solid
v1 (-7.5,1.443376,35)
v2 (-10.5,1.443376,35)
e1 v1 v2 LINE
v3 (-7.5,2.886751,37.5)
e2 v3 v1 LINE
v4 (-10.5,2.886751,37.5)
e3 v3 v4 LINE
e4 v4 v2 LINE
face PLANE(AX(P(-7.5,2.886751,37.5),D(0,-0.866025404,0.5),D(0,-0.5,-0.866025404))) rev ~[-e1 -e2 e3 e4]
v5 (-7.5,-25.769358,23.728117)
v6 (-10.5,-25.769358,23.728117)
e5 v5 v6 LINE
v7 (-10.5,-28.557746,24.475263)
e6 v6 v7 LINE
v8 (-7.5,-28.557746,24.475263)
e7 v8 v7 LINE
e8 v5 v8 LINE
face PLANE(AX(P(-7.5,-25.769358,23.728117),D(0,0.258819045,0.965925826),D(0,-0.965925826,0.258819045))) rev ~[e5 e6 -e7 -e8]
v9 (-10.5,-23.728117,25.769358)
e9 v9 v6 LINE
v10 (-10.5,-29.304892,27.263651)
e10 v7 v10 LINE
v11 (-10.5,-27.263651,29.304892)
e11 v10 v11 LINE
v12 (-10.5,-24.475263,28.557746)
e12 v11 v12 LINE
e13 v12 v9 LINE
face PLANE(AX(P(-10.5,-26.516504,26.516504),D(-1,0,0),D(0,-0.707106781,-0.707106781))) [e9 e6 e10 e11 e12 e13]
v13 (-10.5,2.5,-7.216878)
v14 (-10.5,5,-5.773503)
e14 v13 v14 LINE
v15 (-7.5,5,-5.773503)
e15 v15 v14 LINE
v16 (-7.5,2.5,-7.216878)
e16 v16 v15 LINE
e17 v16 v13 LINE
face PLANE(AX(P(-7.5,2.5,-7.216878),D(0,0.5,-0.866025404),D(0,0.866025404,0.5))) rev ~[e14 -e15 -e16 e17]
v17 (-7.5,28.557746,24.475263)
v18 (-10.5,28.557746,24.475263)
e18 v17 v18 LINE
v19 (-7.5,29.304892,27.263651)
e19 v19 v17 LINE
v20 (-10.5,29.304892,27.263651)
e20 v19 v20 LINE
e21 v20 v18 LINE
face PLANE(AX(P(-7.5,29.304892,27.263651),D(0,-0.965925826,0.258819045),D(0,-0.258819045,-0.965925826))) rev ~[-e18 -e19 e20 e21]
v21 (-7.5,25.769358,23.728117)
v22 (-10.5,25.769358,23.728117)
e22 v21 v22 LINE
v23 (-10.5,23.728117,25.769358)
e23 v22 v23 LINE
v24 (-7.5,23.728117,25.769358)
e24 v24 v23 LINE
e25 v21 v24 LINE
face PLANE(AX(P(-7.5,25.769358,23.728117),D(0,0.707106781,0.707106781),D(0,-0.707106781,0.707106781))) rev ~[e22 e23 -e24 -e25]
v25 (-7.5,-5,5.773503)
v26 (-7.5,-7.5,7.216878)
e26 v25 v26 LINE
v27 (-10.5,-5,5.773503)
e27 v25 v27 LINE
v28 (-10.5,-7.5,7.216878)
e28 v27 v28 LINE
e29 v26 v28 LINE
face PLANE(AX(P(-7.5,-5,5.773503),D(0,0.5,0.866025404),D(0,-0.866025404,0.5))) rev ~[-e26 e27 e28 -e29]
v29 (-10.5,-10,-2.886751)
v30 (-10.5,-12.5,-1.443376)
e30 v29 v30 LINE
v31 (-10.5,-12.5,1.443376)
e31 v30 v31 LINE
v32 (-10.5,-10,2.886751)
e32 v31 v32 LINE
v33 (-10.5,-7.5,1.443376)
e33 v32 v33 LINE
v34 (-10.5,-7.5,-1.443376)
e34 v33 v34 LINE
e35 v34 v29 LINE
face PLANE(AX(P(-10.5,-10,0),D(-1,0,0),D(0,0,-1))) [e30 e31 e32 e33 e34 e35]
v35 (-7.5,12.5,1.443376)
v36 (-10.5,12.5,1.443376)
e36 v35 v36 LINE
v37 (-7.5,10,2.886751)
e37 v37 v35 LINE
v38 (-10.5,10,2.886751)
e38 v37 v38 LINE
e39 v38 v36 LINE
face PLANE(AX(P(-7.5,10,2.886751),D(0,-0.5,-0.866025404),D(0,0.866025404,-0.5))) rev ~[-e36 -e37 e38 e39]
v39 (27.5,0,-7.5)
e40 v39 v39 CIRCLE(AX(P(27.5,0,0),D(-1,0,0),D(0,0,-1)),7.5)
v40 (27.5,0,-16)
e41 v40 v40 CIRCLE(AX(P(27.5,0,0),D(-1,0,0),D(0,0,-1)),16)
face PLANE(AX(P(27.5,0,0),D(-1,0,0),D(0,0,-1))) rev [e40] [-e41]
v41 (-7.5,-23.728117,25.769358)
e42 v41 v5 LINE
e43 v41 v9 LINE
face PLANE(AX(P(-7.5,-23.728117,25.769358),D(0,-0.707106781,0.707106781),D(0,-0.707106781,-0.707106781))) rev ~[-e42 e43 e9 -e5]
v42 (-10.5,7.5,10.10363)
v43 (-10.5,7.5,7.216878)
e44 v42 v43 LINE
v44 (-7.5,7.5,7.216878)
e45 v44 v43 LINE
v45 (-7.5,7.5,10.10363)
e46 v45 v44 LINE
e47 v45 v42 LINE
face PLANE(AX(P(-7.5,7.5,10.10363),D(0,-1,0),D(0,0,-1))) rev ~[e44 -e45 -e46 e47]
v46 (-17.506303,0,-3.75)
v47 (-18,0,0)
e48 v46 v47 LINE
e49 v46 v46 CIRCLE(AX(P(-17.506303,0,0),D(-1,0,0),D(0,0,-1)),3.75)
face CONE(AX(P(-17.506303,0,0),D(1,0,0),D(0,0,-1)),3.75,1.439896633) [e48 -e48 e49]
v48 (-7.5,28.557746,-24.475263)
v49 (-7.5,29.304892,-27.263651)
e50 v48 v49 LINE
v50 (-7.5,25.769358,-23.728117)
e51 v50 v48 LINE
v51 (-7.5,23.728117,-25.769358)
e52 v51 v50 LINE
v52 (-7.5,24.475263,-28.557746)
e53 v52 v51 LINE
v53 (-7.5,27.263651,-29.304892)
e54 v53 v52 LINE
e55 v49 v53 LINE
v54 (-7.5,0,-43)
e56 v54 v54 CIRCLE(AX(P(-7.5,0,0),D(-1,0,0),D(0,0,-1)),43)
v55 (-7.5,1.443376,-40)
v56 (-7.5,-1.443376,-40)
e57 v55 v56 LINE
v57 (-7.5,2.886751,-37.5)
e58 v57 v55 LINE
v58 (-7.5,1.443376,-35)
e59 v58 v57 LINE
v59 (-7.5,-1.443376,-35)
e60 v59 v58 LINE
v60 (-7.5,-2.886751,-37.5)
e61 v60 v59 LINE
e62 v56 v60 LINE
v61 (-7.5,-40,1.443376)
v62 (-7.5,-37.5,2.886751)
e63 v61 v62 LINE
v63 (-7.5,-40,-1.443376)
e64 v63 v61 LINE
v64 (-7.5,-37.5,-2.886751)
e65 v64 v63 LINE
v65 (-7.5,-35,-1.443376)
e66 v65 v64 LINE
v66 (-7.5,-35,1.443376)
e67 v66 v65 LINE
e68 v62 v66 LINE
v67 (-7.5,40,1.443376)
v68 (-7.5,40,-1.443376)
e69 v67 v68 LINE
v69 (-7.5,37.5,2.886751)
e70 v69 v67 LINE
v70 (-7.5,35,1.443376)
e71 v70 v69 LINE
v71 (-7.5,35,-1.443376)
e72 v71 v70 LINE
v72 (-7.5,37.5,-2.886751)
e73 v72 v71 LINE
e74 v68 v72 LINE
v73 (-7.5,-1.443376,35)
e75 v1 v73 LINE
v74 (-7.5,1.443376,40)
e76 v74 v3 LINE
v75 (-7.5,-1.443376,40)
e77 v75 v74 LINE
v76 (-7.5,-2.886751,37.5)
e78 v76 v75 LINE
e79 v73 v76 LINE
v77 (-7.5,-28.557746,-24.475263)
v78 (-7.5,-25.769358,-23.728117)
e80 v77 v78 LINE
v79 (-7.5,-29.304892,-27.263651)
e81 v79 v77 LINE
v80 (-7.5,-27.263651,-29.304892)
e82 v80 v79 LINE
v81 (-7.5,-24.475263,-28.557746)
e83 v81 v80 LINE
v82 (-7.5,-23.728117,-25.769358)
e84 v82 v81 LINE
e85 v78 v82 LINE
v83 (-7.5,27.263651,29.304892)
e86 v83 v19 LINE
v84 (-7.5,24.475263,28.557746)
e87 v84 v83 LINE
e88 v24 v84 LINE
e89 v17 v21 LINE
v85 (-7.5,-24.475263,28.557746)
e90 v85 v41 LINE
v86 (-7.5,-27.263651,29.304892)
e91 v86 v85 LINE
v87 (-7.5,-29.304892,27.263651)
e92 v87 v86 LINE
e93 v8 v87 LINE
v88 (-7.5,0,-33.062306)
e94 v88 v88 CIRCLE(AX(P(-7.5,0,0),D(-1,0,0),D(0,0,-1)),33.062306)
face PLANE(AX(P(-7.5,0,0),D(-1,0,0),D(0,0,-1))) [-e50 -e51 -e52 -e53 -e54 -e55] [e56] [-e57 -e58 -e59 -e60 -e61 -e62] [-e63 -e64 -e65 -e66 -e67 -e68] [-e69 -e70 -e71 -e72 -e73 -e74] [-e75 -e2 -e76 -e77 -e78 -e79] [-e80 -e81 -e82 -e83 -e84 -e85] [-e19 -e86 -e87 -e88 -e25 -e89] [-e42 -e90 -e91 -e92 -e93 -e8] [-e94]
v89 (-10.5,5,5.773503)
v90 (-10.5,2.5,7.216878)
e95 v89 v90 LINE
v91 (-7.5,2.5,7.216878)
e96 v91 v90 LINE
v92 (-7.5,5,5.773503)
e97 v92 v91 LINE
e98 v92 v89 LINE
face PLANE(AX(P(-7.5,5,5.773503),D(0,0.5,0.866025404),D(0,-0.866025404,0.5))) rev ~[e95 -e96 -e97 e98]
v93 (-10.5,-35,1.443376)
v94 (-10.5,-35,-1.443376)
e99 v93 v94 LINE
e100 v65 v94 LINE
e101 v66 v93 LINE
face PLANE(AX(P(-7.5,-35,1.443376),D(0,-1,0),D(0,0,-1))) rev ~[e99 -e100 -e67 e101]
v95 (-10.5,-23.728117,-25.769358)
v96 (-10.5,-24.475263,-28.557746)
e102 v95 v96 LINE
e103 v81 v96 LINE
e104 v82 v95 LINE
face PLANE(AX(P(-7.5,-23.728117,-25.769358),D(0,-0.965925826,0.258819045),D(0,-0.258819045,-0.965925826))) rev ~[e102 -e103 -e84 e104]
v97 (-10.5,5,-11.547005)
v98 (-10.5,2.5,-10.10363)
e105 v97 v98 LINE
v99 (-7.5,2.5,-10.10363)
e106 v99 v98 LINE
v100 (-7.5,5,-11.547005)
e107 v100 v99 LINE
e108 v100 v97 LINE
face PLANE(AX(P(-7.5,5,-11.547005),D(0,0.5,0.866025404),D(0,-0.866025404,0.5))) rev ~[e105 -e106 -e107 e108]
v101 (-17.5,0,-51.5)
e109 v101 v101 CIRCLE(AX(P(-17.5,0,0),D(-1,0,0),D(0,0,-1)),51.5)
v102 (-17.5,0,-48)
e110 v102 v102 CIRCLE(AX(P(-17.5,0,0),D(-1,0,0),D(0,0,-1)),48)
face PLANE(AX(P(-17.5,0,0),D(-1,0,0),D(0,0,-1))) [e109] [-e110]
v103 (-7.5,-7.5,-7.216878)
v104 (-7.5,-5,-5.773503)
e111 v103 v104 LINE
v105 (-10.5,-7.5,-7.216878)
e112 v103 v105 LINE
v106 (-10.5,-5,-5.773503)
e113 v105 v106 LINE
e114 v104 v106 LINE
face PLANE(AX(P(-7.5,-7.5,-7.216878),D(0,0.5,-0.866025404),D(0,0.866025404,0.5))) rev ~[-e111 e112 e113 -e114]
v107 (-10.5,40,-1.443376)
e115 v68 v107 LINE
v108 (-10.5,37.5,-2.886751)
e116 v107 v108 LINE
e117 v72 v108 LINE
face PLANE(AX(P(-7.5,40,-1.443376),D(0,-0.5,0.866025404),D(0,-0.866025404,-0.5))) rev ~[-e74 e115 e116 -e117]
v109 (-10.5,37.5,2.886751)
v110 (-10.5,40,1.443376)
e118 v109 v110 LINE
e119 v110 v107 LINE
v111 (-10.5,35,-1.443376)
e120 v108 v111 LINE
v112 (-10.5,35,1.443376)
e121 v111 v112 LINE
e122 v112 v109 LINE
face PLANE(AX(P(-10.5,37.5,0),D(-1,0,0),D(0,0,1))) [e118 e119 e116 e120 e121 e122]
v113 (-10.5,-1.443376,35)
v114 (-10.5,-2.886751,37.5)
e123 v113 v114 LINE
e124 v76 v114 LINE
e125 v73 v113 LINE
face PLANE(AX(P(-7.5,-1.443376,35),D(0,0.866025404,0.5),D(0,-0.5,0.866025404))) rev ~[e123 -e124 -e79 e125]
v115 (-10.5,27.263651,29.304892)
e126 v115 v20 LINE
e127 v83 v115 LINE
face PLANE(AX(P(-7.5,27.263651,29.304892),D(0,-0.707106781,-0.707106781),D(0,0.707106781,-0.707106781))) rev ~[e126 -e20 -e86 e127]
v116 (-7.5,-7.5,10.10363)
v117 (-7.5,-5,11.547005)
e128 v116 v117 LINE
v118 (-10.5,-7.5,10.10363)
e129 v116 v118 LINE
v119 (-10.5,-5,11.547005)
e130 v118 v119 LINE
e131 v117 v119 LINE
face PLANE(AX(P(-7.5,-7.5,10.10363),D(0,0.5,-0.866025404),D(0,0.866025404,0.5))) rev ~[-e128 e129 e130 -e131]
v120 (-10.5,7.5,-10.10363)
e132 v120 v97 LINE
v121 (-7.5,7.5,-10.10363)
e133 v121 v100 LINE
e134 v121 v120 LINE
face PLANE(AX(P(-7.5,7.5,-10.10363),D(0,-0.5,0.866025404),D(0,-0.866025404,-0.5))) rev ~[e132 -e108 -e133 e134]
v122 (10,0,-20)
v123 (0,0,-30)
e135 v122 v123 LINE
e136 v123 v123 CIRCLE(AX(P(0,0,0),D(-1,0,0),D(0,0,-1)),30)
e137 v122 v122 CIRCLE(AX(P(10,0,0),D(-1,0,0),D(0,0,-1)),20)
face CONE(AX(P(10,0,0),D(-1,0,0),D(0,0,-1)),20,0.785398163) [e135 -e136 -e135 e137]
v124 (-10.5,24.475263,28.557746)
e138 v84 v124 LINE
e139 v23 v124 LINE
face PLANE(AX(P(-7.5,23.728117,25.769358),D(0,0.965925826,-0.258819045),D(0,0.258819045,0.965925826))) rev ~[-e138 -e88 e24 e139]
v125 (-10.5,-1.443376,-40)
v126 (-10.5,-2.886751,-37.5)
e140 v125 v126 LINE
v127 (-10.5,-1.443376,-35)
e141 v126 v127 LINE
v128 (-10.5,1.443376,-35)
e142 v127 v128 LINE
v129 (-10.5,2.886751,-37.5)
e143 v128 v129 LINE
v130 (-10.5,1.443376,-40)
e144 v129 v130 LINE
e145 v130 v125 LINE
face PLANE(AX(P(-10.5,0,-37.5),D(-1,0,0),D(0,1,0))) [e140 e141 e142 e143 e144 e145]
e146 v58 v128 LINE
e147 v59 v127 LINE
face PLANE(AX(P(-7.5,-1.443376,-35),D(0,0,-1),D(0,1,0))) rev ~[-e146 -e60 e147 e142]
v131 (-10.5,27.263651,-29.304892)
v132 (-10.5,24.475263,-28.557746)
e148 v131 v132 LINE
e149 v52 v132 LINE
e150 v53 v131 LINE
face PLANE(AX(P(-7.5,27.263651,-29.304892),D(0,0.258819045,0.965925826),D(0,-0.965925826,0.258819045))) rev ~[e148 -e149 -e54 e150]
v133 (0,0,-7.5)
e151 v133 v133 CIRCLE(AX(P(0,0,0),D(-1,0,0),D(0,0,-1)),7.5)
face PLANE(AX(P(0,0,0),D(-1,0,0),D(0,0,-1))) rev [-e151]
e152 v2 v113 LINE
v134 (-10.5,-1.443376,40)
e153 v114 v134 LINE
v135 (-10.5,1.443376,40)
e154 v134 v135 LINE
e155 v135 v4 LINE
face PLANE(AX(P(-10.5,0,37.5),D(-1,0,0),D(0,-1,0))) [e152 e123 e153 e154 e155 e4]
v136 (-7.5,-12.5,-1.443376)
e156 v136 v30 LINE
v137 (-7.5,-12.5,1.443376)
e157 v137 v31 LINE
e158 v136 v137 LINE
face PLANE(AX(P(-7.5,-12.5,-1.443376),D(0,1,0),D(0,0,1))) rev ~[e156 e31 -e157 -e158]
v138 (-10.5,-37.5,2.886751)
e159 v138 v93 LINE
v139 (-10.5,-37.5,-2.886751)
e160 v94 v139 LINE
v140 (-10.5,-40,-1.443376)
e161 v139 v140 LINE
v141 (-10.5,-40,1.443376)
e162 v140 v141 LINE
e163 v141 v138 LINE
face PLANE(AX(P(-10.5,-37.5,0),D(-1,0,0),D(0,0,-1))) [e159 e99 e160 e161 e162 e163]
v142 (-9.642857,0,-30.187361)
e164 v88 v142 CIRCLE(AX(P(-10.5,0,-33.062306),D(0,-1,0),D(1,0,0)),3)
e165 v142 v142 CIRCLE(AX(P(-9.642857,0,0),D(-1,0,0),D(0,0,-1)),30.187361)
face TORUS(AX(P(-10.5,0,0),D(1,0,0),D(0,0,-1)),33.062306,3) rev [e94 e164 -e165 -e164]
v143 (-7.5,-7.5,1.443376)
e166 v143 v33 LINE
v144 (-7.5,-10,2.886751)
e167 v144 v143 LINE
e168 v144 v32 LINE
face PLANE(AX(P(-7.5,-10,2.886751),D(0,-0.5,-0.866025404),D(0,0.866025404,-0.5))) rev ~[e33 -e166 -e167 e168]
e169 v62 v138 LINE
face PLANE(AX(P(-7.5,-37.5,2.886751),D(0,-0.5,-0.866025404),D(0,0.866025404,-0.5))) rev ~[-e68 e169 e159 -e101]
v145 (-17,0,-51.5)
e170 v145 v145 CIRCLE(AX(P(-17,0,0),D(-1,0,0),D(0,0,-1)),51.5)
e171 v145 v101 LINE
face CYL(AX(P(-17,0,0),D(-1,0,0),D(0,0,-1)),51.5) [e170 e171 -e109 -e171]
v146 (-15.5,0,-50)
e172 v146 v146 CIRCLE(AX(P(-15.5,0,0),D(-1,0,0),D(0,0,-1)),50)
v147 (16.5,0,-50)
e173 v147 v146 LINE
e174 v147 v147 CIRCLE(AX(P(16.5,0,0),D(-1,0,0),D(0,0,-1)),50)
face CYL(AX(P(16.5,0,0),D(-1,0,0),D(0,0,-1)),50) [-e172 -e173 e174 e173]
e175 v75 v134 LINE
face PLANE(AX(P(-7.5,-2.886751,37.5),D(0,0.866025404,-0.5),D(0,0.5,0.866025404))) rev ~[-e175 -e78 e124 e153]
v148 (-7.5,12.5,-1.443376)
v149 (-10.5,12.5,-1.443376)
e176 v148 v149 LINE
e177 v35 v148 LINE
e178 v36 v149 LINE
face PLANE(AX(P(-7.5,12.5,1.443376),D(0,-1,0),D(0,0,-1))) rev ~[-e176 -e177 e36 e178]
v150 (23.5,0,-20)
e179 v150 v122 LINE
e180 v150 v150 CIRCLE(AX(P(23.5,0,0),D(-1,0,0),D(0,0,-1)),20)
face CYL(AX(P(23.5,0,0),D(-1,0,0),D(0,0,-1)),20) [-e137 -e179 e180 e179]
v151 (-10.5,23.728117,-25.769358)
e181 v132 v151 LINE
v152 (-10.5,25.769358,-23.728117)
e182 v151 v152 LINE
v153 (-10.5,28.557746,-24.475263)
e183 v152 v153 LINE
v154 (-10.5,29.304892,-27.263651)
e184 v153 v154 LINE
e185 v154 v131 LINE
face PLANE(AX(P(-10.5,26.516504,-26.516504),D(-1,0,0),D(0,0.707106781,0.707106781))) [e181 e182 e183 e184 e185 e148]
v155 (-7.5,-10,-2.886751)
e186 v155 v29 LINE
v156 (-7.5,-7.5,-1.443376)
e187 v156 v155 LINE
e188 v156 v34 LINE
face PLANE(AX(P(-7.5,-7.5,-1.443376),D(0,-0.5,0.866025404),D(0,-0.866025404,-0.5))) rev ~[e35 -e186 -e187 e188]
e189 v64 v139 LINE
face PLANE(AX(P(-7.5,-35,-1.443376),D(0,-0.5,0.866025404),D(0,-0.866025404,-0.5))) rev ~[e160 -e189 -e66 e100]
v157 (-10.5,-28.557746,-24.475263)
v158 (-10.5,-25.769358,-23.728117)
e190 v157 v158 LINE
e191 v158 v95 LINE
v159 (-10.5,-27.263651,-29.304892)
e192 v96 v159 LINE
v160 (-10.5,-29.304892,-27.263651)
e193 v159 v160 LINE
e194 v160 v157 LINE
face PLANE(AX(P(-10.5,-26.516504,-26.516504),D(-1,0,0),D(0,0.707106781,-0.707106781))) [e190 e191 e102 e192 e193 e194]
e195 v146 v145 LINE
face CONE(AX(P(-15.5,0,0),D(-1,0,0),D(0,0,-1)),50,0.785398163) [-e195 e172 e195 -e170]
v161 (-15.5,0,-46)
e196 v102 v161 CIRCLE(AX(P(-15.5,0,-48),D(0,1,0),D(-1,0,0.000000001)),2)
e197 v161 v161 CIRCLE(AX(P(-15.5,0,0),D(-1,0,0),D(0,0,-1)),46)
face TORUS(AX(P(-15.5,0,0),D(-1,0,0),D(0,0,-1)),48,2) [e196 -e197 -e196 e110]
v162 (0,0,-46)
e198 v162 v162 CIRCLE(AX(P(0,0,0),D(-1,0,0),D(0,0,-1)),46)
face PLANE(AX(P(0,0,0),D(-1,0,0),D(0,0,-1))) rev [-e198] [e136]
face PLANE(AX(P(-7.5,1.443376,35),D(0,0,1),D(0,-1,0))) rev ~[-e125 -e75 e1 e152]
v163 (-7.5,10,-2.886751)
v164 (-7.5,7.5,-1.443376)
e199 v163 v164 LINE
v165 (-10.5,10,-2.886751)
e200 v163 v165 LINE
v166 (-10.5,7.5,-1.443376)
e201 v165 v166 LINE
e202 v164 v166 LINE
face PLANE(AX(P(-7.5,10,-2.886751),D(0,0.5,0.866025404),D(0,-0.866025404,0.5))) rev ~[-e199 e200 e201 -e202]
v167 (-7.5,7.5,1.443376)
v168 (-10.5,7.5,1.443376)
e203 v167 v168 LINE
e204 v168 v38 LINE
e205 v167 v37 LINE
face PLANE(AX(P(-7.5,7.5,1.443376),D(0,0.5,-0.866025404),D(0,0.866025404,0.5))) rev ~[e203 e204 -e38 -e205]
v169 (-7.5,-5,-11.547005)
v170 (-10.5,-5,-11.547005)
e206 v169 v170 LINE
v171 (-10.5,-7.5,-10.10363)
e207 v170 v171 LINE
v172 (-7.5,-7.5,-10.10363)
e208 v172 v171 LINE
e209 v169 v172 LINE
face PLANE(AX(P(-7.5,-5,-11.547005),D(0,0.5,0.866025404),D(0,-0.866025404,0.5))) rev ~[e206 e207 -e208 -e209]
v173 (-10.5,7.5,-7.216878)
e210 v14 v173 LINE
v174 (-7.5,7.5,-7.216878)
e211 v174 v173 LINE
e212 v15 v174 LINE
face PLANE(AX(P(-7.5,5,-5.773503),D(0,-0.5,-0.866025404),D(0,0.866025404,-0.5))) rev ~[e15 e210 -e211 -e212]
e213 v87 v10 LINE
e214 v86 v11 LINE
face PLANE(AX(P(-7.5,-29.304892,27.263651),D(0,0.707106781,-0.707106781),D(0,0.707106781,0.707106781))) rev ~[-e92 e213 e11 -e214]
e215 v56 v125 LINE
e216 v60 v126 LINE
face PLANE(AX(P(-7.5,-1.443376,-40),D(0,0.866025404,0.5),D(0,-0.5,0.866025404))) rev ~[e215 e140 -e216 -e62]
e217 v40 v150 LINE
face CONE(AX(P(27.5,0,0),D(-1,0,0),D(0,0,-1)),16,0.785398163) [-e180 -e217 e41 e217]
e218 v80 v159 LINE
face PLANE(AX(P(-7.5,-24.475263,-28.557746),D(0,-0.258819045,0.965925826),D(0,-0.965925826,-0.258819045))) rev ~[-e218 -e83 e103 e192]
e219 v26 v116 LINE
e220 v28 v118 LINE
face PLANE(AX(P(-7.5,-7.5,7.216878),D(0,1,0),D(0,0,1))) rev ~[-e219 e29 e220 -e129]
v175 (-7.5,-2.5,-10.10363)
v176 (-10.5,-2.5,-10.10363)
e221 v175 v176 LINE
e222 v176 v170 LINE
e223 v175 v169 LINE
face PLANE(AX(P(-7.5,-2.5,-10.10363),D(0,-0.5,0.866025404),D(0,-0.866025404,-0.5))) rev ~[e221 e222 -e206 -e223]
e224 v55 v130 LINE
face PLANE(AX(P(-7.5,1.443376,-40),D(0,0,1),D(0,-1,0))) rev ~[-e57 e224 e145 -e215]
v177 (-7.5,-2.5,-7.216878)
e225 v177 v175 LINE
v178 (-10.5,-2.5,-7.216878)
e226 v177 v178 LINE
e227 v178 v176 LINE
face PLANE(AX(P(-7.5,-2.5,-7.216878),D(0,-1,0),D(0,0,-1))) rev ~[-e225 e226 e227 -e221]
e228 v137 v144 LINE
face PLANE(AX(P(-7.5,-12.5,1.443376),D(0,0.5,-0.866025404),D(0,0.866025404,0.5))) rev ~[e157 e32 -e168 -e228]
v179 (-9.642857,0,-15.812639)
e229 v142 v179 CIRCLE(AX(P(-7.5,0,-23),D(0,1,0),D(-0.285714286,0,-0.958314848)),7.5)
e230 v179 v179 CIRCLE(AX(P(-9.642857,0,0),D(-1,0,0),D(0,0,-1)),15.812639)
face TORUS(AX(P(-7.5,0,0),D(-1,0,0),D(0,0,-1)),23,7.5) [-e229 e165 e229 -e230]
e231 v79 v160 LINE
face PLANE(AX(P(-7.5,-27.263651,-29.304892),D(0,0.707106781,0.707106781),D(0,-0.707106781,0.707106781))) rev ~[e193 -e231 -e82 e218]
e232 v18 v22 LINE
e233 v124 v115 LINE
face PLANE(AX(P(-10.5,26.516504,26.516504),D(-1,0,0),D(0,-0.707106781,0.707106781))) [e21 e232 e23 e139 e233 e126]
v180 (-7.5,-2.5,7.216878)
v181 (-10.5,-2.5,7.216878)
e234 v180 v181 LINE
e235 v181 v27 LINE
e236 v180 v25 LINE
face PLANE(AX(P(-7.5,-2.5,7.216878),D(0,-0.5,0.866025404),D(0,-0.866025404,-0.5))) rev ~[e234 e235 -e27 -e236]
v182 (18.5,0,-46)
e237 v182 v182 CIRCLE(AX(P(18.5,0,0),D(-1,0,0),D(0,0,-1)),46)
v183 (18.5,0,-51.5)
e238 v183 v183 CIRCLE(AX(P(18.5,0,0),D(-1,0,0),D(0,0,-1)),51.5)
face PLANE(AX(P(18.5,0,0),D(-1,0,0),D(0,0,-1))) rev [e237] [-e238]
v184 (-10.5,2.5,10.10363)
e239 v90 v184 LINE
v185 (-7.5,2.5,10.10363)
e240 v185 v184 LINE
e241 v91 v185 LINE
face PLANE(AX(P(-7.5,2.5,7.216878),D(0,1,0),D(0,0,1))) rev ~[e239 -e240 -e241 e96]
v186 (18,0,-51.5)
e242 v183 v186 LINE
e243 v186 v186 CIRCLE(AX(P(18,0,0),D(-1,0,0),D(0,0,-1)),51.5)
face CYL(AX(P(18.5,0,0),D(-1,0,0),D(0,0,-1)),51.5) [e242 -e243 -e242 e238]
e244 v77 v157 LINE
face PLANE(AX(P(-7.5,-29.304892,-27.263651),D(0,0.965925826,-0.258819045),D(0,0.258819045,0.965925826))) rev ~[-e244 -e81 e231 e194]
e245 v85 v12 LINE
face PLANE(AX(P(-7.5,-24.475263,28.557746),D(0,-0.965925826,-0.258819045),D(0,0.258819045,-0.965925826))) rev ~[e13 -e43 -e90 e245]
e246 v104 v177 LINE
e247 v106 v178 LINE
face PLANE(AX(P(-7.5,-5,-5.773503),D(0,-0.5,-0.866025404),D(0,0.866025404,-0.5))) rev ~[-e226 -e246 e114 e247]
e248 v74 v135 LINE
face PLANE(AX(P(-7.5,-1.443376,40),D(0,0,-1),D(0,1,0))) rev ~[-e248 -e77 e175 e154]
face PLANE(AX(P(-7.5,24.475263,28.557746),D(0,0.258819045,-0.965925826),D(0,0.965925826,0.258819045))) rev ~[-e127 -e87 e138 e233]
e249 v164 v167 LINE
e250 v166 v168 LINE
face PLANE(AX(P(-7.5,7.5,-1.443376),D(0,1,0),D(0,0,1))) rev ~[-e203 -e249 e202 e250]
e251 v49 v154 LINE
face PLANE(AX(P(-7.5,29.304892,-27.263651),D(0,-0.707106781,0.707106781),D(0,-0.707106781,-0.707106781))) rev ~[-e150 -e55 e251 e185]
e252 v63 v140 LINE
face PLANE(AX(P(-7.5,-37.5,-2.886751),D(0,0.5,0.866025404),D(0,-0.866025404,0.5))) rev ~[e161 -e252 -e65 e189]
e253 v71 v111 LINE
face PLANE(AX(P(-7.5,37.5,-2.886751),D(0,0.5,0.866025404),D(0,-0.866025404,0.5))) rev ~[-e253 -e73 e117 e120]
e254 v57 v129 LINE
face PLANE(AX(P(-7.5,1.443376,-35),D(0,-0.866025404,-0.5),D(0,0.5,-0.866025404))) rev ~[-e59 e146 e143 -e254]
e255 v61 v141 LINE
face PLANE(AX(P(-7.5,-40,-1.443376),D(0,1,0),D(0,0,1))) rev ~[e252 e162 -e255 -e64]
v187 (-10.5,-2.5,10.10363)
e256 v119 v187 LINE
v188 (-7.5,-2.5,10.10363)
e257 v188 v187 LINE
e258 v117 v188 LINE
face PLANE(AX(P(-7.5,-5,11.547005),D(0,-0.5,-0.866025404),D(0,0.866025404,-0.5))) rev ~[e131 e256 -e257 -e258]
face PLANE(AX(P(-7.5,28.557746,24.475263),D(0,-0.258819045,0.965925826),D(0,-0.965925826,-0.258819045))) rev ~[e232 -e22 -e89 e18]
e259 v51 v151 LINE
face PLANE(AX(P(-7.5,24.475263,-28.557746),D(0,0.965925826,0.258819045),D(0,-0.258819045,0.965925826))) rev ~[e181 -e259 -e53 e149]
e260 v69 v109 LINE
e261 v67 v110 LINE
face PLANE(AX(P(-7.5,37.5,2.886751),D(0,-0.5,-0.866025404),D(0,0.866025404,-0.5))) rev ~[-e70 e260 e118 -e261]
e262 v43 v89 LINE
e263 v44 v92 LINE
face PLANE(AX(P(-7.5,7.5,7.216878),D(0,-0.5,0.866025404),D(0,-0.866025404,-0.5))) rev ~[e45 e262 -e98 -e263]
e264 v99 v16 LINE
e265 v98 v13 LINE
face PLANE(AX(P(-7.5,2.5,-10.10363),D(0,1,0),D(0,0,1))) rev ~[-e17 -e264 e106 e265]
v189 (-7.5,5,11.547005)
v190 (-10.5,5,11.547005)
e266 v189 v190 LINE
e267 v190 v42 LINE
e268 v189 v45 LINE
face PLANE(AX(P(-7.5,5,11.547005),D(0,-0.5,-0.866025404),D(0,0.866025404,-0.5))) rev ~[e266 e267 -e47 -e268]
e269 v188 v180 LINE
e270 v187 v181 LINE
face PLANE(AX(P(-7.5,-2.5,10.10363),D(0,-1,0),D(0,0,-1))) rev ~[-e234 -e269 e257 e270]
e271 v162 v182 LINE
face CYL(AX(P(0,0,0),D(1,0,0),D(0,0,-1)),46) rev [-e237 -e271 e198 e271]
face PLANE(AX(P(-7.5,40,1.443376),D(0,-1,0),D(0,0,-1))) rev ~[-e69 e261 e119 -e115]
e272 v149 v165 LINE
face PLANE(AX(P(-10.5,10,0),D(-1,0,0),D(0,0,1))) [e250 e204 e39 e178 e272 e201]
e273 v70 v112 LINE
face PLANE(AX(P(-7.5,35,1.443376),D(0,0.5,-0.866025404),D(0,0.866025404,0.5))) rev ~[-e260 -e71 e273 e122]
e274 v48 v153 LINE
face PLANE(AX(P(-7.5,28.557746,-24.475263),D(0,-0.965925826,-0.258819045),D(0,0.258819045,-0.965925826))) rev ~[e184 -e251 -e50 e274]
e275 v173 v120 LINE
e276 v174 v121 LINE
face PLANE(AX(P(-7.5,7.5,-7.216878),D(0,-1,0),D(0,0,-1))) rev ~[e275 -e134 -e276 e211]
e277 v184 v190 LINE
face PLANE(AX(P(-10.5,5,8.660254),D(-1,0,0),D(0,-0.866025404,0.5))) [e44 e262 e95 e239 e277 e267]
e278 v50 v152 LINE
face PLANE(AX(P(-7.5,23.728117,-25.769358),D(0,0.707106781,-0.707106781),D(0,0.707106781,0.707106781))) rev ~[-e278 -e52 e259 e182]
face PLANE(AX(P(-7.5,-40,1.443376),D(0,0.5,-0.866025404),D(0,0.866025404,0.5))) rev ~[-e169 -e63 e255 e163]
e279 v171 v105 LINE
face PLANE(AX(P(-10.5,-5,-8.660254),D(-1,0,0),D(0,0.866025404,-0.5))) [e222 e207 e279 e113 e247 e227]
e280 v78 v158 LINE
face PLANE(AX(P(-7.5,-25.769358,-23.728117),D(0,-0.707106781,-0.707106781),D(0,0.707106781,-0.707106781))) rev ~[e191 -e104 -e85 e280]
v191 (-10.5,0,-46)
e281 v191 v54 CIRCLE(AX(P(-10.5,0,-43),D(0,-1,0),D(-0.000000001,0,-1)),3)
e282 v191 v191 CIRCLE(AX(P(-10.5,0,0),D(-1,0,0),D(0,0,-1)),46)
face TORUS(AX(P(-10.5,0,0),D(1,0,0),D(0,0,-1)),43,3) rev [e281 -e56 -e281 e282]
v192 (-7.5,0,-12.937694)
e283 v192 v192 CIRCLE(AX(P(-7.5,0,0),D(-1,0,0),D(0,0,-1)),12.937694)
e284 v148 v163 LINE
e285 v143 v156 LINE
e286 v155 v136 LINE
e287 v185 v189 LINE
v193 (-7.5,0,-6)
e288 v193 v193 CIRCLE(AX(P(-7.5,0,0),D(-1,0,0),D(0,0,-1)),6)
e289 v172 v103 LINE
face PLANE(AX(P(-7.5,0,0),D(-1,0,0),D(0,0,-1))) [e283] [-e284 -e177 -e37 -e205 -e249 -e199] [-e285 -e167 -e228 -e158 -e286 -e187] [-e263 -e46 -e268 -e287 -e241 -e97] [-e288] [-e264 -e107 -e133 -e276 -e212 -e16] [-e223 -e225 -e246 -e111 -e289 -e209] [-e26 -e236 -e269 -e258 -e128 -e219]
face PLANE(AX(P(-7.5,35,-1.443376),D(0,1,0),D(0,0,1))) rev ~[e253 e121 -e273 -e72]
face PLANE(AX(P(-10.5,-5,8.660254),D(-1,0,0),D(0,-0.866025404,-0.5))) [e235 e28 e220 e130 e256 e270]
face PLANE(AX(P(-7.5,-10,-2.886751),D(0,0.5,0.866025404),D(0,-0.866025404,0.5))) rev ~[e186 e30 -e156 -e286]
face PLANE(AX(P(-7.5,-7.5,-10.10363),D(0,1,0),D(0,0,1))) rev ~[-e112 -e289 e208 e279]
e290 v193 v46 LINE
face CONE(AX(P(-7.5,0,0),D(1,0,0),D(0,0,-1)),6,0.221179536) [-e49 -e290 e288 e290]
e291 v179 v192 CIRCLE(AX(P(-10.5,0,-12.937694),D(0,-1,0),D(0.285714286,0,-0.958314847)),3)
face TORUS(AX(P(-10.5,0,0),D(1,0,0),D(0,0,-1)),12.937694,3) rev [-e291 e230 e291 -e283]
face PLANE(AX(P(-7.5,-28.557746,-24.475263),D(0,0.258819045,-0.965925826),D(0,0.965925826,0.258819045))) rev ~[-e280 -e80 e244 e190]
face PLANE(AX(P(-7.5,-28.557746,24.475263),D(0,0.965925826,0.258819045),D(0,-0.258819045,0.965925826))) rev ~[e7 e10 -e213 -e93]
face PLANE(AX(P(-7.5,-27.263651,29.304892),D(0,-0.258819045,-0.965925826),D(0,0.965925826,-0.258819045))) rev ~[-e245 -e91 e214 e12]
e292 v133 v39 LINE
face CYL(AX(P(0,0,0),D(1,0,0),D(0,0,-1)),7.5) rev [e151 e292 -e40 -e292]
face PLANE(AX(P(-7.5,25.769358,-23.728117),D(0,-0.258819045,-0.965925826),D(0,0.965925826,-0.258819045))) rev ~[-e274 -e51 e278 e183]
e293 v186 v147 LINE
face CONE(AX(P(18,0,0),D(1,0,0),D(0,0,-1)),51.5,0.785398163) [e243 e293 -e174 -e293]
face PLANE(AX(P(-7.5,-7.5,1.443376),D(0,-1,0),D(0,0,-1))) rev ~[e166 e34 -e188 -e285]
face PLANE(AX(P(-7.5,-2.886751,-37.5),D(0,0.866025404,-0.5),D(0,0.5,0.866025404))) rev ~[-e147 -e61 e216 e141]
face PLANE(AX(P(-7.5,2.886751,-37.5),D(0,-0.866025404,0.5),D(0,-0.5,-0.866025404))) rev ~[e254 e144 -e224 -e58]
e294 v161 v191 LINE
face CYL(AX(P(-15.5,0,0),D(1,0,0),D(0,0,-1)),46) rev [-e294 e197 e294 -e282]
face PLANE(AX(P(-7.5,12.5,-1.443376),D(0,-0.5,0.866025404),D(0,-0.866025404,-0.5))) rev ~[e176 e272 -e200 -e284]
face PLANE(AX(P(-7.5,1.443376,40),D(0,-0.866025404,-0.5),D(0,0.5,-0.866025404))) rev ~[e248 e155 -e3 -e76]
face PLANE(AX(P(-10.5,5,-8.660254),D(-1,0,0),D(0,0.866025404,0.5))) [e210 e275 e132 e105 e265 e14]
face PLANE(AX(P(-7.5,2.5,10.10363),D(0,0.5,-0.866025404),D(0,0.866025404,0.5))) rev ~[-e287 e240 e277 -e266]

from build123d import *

# Parameters (mm, degrees)
BOSS_EXTRUDE1_DEPTH = 3
CIRPATTERN1_COUNT   = 8
BOSS_EXTRUDE2_DEPTH = 3
CIRPATTERN2_COUNT   = 6


with BuildPart() as part:
    # Sketch1 → Revolve1 (revolve)
    with BuildSketch(Plane.XY, mode=Mode.PRIVATE) as revolve1_sk:
        with BuildLine():
            Line((-7.5, 6), (-17.506303134, 3.75))
            Line((-17.506303134, 3.75), (-18, 0))
            Line((-18, 0), (0, 0))
            Line((0, 0), (0, 7.5))
            Line((0, 7.5), (27.5, 7.5))
            Line((27.5, 7.5), (27.5, 16))
            Line((27.5, 16), (23.5, 20))
            Line((23.5, 20), (10, 20))
            Line((10, 20), (0, 30))
            Line((0, 30), (0, 46))
            Line((0, 46), (18.5, 46))
            Line((18.5, 46), (18.5, 51.5))
            Line((18.5, 51.5), (18, 51.5))
            Line((18, 51.5), (16.5, 50))
            Line((16.5, 50), (-15.5, 50))
            Line((-15.5, 50), (-17, 51.5))
            Line((-17, 51.5), (-17.5, 51.5))
            Line((-17.5, 51.5), (-17.5, 48))
            ThreePointArc((-17.5, 48), (-16.914213562, 46.585786438), (-15.5, 46))
            Line((-15.5, 46), (-10.5, 46))
            ThreePointArc((-10.5, 46), (-8.378679656, 45.121320344), (-7.5, 43))
            Line((-7.5, 43), (-7.5, 33.062305899))
            ThreePointArc((-7.5, 33.062305899), (-8.094648823, 31.269462985), (-9.642857143, 30.187361356))
            ThreePointArc((-9.642857143, 30.187361356), (-15, 23), (-9.642857143, 15.812638644))
            ThreePointArc((-9.642857143, 15.812638644), (-8.094648823, 14.730537015), (-7.5, 12.937694101))
            Line((-7.5, 12.937694101), (-7.5, 6))
        make_face()
    revolve(revolve1_sk.sketch.rotate(Axis((0, 0, 0), (-1, 0, 0)), 90), axis=Axis((0, 0, 0), (-1, 0, 0)))

    # Sketch2 → Boss-Extrude1 (add)
    with BuildSketch(Plane.ZY.offset(7.5)):
        Polygon((-1.443375673, 40), (-2.886751346, 37.5), (-1.443375673, 35), (1.443375673, 35), (2.886751346, 37.5), (1.443375673, 40), align=None)
    boss_extrude1 = extrude(amount=BOSS_EXTRUDE1_DEPTH)

    # CirPattern1: Boss-Extrude1 ×8 about axis
    cirpattern1_axis = Axis((0, 0, 0), (1, 0, 0))
    for i in range(1, CIRPATTERN1_COUNT):
        add(boss_extrude1.rotate(cirpattern1_axis, i * 360 / CIRPATTERN1_COUNT))

    # Sketch3 → Boss-Extrude2 (add)
    with BuildSketch(Plane.ZY.offset(7.5)):
        Polygon((-1.443375673, 12.5), (-2.886751346, 10), (-1.443375673, 7.5), (1.443375673, 7.5), (2.886751346, 10), (1.443375673, 12.5), align=None)
    boss_extrude2 = extrude(amount=BOSS_EXTRUDE2_DEPTH)

    # CirPattern2: Boss-Extrude2 ×6 about axis
    cirpattern2_axis = Axis((0, 0, 0), (1, 0, 0))
    for i in range(1, CIRPATTERN2_COUNT):
        add(boss_extrude2.rotate(cirpattern2_axis, i * 360 / CIRPATTERN2_COUNT))


solid = part.part
